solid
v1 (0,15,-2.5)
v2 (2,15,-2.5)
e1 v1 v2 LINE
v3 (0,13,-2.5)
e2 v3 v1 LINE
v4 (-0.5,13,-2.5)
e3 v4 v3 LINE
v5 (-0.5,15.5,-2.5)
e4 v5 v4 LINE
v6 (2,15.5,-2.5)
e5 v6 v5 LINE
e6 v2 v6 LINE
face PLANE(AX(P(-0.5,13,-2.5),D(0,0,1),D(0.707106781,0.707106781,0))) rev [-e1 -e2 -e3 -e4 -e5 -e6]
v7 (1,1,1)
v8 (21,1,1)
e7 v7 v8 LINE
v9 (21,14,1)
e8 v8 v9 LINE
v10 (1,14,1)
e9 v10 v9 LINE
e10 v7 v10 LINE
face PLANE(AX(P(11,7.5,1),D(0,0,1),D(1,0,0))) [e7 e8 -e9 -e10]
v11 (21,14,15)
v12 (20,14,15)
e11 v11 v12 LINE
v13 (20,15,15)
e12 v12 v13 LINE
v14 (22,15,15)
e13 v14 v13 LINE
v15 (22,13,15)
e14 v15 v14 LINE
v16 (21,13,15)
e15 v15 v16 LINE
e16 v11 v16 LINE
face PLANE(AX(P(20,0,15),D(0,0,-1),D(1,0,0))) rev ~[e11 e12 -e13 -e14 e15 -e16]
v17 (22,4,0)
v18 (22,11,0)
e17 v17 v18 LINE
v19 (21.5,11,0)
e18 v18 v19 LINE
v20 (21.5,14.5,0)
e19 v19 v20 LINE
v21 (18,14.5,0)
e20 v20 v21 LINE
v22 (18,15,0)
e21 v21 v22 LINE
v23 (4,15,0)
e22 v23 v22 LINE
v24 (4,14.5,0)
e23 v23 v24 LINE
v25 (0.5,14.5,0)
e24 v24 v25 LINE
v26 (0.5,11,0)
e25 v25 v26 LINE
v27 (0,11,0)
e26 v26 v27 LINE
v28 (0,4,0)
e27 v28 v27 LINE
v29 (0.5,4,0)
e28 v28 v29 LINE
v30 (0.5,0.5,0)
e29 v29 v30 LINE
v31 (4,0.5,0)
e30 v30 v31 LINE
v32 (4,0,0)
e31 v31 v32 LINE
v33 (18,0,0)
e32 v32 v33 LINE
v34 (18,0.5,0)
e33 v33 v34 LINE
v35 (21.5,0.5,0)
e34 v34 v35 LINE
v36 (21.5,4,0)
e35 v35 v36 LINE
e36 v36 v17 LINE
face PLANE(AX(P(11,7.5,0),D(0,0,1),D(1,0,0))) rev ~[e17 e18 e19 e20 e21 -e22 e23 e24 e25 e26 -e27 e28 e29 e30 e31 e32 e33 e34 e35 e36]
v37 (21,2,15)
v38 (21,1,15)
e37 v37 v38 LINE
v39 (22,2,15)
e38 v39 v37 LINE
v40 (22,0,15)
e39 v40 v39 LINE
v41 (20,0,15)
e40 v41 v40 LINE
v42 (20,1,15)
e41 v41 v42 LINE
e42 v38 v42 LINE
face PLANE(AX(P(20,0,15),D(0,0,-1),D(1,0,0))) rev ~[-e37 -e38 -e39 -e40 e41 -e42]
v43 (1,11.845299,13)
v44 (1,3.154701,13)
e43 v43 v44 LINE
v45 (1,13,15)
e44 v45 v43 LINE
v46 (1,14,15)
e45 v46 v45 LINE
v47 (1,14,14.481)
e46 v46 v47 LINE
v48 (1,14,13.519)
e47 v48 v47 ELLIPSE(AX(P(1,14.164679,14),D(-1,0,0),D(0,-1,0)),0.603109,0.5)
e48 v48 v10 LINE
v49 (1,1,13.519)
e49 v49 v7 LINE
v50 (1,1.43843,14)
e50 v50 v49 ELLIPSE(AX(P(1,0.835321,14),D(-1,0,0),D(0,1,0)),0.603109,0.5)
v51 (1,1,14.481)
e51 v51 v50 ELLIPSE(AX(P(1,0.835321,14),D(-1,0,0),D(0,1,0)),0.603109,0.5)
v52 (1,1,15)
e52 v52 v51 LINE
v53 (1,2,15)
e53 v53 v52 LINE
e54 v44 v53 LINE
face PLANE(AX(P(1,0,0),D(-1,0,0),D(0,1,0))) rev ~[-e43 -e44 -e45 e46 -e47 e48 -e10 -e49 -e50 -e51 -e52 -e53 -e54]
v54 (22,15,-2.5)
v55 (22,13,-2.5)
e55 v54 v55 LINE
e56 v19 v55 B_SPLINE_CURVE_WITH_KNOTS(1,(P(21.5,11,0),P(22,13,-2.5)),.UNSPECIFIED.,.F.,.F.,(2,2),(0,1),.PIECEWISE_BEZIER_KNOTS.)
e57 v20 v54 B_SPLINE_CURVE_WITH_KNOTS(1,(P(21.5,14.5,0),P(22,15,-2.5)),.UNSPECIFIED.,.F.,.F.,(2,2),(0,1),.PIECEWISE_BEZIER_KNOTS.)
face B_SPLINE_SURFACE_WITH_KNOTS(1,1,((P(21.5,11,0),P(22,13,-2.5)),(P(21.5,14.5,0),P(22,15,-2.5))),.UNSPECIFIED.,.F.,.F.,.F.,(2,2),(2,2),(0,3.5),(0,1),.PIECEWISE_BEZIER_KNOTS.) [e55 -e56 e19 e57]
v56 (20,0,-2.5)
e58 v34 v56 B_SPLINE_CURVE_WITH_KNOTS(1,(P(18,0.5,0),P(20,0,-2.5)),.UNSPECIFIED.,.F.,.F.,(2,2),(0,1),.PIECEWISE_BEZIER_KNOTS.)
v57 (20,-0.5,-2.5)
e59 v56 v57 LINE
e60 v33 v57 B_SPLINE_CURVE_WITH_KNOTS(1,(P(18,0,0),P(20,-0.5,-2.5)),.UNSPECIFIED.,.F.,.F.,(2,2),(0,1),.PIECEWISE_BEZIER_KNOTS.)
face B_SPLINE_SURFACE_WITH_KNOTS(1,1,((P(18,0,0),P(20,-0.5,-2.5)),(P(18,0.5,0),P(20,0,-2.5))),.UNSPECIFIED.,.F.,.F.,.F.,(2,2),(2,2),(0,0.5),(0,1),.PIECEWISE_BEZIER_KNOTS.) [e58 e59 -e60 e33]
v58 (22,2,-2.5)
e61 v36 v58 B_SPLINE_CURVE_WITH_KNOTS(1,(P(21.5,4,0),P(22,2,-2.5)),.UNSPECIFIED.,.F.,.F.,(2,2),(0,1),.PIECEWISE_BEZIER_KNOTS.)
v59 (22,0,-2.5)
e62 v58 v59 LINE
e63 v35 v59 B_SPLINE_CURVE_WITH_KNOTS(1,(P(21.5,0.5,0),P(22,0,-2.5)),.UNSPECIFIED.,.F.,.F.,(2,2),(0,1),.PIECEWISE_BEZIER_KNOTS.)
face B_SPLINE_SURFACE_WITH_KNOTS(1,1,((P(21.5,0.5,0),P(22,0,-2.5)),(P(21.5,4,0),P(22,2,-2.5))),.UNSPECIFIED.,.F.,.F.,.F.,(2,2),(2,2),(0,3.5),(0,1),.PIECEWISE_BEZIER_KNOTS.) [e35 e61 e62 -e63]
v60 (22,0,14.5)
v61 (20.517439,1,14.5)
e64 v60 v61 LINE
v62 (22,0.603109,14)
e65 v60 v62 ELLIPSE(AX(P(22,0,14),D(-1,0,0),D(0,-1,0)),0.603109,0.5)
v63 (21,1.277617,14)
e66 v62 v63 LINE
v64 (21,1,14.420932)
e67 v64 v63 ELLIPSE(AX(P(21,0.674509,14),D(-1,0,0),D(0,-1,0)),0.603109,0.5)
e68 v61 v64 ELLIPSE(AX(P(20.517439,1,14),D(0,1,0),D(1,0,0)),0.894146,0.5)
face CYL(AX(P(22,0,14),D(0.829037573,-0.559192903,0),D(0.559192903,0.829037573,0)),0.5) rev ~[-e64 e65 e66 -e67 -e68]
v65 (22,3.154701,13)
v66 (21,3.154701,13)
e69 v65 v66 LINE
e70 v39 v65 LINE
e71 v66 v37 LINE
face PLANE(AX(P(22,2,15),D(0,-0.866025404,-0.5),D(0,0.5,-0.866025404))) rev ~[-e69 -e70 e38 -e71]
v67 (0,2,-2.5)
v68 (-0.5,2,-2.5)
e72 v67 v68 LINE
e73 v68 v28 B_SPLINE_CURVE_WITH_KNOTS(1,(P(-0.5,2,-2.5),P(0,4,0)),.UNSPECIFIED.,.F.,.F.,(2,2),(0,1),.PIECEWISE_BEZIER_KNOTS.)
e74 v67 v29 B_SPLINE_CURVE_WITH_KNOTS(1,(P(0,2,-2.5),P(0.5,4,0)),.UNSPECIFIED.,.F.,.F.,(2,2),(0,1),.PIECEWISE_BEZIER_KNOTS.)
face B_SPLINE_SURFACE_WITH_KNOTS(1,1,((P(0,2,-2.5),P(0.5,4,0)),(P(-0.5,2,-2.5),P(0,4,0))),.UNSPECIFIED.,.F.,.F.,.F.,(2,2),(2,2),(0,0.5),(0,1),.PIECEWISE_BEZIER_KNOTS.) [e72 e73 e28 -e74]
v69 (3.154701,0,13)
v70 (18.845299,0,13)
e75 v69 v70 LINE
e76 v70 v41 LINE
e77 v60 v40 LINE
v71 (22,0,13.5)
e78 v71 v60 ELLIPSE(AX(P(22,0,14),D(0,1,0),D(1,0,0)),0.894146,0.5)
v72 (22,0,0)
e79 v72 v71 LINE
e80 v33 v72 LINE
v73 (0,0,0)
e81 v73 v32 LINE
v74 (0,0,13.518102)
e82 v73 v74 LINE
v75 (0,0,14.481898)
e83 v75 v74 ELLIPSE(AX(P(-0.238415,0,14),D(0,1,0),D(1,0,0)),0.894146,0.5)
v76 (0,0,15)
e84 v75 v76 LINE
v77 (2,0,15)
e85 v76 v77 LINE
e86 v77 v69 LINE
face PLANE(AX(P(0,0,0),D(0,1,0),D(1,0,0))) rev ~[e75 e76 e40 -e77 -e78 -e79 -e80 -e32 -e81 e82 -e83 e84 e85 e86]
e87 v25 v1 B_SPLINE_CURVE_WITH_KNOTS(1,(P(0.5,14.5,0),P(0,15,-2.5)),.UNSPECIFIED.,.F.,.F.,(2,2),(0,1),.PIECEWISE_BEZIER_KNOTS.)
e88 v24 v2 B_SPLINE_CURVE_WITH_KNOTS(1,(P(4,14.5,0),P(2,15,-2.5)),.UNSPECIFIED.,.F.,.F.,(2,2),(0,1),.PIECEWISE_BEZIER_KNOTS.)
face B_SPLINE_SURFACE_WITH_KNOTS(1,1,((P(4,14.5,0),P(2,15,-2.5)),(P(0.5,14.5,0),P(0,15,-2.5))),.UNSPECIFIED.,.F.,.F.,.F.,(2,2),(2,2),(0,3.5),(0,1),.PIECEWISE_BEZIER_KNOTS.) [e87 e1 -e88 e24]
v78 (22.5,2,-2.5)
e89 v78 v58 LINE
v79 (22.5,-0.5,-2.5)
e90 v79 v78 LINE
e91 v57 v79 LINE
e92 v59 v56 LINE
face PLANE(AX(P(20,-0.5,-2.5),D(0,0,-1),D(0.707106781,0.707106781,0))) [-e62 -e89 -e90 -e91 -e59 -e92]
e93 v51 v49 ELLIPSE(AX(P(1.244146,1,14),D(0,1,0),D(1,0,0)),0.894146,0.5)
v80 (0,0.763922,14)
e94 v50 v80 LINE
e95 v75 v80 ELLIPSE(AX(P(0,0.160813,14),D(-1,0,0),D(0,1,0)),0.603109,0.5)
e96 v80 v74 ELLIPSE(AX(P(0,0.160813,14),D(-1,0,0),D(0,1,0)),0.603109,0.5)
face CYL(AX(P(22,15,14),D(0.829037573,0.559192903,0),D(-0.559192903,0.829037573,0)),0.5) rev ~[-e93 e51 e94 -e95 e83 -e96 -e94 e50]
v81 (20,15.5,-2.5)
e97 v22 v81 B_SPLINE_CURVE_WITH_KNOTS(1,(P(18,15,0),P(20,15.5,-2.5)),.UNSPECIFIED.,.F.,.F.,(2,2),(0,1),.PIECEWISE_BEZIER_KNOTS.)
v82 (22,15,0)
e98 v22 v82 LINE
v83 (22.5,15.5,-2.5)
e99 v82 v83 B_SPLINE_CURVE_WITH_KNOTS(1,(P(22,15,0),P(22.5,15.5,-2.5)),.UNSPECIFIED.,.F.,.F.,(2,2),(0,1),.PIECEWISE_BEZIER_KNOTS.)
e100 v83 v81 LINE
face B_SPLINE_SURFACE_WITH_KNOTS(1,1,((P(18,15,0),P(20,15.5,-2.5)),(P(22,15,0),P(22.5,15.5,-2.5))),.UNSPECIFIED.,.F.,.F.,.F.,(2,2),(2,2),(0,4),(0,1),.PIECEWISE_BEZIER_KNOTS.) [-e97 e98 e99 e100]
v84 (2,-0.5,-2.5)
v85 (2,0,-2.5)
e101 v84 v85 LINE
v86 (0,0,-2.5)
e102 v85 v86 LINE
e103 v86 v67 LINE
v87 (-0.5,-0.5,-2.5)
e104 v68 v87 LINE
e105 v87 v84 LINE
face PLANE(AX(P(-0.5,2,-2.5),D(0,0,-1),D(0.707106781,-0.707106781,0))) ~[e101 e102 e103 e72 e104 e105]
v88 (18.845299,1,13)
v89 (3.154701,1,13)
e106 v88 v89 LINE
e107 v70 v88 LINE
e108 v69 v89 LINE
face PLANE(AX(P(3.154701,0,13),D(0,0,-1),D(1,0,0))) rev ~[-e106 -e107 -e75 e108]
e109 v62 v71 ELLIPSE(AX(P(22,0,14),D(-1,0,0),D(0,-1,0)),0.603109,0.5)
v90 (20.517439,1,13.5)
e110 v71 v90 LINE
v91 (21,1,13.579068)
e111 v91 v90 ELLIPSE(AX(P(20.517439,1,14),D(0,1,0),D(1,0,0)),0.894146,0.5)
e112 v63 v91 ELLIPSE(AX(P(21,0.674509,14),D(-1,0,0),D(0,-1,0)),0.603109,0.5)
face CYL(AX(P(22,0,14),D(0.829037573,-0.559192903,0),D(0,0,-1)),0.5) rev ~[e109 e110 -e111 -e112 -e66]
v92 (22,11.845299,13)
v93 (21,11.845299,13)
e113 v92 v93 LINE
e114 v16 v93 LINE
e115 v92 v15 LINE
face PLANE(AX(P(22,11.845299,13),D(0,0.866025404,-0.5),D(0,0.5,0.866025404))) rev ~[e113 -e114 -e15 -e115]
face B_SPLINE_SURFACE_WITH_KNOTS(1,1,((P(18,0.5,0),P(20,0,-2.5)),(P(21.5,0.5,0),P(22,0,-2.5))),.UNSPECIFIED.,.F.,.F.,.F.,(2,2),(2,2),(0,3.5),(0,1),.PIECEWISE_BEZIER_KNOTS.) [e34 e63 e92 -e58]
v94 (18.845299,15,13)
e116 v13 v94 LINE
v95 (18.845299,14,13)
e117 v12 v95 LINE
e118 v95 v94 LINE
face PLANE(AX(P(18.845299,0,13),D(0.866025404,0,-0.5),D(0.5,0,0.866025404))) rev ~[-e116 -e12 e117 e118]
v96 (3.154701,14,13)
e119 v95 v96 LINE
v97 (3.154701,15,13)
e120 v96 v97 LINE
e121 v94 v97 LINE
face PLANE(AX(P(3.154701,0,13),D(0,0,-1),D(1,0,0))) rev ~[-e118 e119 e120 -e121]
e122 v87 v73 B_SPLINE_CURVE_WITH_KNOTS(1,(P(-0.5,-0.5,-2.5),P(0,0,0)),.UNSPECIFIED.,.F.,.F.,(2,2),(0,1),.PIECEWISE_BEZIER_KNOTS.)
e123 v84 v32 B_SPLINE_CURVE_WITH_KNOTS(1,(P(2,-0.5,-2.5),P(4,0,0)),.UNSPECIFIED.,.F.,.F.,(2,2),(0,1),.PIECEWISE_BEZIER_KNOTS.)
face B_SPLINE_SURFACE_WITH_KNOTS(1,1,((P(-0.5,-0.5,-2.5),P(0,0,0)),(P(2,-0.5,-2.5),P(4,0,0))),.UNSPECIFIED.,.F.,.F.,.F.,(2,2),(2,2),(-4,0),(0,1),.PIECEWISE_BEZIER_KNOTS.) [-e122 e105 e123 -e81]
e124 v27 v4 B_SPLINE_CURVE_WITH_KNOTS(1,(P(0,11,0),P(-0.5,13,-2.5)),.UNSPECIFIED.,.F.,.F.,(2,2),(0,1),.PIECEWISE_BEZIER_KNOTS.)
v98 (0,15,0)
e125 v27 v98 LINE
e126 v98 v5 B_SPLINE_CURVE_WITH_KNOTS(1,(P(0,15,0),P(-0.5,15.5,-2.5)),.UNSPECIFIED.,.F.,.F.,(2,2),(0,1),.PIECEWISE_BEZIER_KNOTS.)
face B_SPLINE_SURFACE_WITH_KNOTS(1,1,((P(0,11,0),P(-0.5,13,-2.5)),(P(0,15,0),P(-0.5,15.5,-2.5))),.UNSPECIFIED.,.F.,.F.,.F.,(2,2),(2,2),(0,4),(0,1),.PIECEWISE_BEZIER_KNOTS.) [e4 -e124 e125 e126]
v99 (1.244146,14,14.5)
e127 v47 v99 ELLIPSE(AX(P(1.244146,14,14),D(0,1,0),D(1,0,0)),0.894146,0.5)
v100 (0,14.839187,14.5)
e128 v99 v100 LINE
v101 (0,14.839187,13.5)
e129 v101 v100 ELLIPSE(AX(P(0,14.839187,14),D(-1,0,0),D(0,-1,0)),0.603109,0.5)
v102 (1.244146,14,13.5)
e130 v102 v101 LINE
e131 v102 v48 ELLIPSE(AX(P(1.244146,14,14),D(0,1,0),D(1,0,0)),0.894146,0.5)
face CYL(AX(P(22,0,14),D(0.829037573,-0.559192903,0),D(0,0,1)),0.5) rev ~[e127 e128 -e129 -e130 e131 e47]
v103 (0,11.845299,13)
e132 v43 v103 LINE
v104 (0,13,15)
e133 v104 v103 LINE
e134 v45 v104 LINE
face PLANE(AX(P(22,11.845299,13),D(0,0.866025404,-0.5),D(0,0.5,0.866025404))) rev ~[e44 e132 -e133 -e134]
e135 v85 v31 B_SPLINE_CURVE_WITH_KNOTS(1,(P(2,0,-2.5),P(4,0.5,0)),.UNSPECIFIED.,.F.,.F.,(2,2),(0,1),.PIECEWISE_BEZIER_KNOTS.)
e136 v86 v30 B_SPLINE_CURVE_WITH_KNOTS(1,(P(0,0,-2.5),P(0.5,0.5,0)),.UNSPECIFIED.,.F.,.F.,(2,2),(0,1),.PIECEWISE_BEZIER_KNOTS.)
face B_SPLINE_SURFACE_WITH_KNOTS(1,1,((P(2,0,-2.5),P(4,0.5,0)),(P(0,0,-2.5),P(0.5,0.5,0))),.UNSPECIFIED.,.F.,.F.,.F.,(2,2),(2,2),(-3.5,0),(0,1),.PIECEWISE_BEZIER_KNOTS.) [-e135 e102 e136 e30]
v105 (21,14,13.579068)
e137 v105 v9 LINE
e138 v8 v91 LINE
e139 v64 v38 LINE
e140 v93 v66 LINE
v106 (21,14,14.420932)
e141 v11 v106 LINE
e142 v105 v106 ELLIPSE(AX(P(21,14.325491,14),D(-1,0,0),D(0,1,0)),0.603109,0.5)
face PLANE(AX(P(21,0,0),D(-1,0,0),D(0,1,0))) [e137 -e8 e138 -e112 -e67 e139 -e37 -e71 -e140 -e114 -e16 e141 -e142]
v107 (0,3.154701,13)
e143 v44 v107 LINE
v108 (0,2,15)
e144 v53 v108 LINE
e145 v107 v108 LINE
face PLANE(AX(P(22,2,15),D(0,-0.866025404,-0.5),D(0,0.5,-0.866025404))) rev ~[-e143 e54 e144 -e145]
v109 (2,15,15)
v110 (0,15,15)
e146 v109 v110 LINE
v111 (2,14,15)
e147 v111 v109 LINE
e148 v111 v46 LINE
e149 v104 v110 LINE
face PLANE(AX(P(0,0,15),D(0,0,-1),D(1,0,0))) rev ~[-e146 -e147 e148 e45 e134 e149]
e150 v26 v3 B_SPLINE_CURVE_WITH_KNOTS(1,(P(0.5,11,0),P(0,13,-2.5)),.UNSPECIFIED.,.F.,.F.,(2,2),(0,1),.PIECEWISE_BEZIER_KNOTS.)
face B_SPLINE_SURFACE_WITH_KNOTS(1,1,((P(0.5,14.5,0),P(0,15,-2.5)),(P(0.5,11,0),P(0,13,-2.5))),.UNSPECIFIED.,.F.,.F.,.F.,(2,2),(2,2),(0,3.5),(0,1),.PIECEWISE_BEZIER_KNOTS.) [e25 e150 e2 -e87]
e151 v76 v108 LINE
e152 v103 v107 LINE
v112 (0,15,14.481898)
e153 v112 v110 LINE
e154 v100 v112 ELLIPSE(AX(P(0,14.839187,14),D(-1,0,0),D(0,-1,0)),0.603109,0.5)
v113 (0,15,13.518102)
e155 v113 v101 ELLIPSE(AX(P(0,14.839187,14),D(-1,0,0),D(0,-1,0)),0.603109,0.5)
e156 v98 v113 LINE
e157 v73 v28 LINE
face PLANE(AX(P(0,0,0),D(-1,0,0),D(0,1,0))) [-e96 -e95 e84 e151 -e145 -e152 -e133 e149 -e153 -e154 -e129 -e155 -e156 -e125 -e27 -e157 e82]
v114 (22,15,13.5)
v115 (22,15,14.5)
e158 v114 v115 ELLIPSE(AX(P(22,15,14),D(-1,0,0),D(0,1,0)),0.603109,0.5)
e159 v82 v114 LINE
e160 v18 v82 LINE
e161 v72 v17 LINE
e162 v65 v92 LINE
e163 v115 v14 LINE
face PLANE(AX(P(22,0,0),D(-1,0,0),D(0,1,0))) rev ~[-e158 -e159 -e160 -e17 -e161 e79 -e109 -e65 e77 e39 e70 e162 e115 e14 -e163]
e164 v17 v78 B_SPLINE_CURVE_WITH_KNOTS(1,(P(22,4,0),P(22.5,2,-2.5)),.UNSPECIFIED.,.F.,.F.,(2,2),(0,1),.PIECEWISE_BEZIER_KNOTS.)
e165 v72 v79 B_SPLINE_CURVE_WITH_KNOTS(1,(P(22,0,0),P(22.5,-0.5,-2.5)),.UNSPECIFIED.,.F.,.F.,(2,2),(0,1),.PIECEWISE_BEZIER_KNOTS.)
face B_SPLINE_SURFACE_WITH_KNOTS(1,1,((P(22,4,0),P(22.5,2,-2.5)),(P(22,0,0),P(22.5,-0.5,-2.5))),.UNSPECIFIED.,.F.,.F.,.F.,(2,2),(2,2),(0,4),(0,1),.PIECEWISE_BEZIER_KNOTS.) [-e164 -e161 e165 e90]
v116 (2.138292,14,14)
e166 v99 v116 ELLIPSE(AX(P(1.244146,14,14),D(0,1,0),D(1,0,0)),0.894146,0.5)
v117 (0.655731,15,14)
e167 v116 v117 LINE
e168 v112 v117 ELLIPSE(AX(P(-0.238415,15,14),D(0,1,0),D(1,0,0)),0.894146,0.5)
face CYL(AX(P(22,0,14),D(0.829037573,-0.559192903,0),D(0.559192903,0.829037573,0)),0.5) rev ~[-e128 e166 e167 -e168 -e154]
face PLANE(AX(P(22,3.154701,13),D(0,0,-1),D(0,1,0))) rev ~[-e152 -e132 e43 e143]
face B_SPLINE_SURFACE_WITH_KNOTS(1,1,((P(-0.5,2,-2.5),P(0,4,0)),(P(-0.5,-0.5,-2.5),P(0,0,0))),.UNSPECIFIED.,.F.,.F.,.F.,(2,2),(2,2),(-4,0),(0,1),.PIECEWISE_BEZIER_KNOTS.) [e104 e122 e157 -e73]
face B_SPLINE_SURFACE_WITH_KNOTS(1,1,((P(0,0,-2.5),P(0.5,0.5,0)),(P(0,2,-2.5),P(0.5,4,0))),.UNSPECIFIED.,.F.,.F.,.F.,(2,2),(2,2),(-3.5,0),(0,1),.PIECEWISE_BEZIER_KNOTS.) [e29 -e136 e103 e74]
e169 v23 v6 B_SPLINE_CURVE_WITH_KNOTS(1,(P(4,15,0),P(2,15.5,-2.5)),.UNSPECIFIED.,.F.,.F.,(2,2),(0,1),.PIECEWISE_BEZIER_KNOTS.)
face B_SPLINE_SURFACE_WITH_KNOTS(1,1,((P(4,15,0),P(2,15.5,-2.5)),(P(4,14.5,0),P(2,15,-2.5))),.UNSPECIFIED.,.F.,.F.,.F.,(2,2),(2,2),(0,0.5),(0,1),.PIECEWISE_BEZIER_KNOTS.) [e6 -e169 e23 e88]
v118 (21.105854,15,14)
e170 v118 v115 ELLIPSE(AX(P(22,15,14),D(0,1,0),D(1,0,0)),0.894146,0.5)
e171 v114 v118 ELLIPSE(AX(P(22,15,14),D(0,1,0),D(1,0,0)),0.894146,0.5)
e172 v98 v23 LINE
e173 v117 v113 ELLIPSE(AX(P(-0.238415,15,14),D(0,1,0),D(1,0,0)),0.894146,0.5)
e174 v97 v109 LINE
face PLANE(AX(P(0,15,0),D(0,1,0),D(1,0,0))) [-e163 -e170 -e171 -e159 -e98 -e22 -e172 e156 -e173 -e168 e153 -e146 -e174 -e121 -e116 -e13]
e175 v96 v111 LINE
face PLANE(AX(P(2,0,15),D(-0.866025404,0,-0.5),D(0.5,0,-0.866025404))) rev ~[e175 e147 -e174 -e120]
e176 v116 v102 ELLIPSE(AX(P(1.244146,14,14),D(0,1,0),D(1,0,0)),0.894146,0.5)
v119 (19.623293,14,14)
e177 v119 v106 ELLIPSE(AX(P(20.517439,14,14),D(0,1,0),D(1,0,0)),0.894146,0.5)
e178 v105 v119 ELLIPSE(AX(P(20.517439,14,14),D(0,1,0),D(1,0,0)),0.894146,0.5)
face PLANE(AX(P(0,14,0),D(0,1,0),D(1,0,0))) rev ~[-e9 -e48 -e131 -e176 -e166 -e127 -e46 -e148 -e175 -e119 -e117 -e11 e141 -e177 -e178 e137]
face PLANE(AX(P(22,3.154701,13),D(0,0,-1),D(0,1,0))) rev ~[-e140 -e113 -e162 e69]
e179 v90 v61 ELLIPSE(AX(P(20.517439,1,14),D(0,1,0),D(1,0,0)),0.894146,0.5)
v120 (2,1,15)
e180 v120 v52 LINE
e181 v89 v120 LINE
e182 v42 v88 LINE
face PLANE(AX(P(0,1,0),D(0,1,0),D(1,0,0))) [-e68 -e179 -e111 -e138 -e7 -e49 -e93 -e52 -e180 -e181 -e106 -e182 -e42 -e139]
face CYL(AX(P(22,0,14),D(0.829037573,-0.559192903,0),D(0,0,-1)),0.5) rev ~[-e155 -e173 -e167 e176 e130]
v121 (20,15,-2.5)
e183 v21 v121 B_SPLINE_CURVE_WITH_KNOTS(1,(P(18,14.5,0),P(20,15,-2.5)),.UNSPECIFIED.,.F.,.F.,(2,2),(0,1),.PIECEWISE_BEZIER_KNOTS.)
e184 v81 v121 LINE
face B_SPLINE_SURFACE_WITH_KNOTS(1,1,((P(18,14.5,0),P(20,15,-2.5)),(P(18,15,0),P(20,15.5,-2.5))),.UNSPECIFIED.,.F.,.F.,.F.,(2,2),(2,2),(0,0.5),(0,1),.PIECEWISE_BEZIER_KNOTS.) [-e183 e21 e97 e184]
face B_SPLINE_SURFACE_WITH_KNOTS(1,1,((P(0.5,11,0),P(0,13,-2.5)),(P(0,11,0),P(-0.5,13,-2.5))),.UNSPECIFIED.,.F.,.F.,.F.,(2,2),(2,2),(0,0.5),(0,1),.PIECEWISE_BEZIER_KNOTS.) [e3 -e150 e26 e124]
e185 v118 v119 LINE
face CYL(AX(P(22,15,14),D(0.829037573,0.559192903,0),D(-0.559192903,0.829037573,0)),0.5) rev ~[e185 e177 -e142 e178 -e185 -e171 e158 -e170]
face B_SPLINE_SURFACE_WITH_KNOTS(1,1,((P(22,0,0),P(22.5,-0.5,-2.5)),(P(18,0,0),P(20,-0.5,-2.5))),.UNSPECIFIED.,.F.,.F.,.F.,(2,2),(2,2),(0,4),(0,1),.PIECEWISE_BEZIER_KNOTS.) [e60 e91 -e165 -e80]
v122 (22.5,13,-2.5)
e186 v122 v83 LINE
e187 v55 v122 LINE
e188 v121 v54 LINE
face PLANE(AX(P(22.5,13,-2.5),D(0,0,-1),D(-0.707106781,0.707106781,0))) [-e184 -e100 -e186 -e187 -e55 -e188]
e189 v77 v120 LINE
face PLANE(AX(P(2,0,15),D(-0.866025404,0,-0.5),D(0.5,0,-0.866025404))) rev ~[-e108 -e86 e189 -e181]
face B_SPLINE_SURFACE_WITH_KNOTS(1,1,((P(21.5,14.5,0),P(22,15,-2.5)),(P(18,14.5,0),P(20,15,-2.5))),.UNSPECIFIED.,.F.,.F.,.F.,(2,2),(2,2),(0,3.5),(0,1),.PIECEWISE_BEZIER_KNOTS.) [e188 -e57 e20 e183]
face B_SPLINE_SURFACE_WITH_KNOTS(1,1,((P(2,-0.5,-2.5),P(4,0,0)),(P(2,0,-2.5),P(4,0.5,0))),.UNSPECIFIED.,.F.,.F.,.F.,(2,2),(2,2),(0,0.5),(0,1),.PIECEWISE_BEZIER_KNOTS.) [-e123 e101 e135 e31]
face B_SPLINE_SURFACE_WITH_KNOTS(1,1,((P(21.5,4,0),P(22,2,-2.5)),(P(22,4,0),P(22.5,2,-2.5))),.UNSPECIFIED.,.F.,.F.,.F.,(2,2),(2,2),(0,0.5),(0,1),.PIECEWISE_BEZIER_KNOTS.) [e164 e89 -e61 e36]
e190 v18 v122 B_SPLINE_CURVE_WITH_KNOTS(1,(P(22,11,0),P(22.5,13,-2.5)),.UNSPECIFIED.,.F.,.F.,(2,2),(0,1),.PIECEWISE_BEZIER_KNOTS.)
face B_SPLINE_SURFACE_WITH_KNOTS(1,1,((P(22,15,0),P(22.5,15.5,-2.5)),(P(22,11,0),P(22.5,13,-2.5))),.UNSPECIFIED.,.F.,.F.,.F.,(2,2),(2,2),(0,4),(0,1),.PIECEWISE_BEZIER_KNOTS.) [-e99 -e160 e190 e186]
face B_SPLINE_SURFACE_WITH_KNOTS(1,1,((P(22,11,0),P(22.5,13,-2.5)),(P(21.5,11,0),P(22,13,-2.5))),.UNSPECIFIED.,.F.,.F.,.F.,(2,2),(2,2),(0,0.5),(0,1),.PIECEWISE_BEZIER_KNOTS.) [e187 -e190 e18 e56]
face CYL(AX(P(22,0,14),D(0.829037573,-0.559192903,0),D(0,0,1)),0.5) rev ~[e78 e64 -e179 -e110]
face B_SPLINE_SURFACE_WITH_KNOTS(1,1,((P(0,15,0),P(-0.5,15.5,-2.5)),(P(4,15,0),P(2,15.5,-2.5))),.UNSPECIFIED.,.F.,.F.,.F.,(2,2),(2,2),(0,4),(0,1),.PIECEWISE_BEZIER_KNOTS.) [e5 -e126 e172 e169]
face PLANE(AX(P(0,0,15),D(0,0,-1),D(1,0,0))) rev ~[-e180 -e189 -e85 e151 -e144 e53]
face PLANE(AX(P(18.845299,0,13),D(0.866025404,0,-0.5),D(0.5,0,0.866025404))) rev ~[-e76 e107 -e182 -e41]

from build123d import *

# Parameters (mm, degrees)
F0_W      = 22
F0_H      = 15
F1_DEPTH  = 18
F2_T      = -1
F11_DEPTH = 25
F13_DEPTH = 25
F16_R     = 0.5
F17_DEPTH = 50
F20_DEPTH = 50


with BuildPart() as f1:
    # F0 (on Top) → F1 (new body)
    with BuildSketch(Plane.XY):
        with Locations((11, 7.5)):
            Rectangle(F0_W, F0_H)
    extrude(amount=F1_DEPTH)

    # F2
    f2_openings = [f1.faces().sort_by_distance(p)[0] for p in [
        (11, 7.5, 18),
    ]]
    offset(amount=F2_T, openings=f2_openings)

    # F5 (on offset) → F6 section 0
    with BuildSketch(Plane.XY.offset(-2.5)):
        Polygon((-0.5, 2), (-0.5, -0.5), (2, -0.5), (2, 0), (0, 0), (0, 2), align=None)
    # F3 (on face) → F6 section 1
    with BuildSketch(Plane(origin=(0, 0, 0), x_dir=(1, 0, 0), z_dir=(0, 0, -1))):
        Polygon((4, 0), (0, 0), (0, -4), (0.5, -4), (0.5, -0.5), (4, -0.5), align=None)
    loft()

    # F3 (on face) → F7 section 0
    with BuildSketch(Plane(origin=(0, 0, 0), x_dir=(1, 0, 0), z_dir=(0, 0, -1))):
        Polygon((0.5, -11), (0, -11), (0, -15), (4, -15), (4, -14.5), (0.5, -14.5), align=None)
    # F5 (on offset) → F7 section 1
    with BuildSketch(Plane.XY.offset(-2.5)):
        Polygon((-0.5, 13), (0, 13), (0, 15), (2, 15), (2, 15.5), (-0.5, 15.5), align=None)
    loft()

    # F3 (on face) → F8 section 0
    with BuildSketch(Plane(origin=(0, 0, 0), x_dir=(1, 0, 0), z_dir=(0, 0, -1))):
        Polygon((22, -15), (22, -11), (21.5, -11), (21.5, -14.5), (18, -14.5), (18, -15), align=None)
    # F5 (on offset) → F8 section 1
    with BuildSketch(Plane.XY.offset(-2.5)):
        Polygon((20, 15.5), (20, 15), (22, 15), (22, 13), (22.5, 13), (22.5, 15.5), align=None)
    loft()

    # F3 (on face) → F9 section 0
    with BuildSketch(Plane(origin=(0, 0, 0), x_dir=(1, 0, 0), z_dir=(0, 0, -1))):
        Polygon((22, 0), (18, 0), (18, -0.5), (21.5, -0.5), (21.5, -4), (22, -4), align=None)
    # F5 (on offset) → F9 section 1
    with BuildSketch(Plane.XY.offset(-2.5)):
        Polygon((22, 2), (22, 0), (20, 0), (20, -0.5), (22.5, -0.5), (22.5, 2), align=None)
    loft()

    # F10 (on face) → F11 (cut)
    with BuildSketch(Plane.XZ):
        Polygon((20, 15), (22, 15), (22, 18), (0, 18), (0, 15), (2, 15), (3.1547005384, 13), (18.8452994616, 13), align=None)
    extrude(amount=-F11_DEPTH, mode=Mode.SUBTRACT)

    # F12 (on face) → F13 (cut)
    with BuildSketch(Plane.YZ.offset(22)):
        Polygon((13, 15), (2, 15), (3.1547005384, 13), (11.8452994616, 13), align=None)
    extrude(amount=-F13_DEPTH, mode=Mode.SUBTRACT)

    # F16 (on face) → F17 (cut)
    with BuildSketch(Plane(origin=(22.0745514368, 14.8894729496, 0), x_dir=(-0.5591929035, 0.8290375726, 0), z_dir=(0.8290375726, 0.5591929035, 0))):
        with Locations((0.133319712, 14)):
            Circle(F16_R)
    extrude(amount=-F17_DEPTH, mode=Mode.SUBTRACT)

    # F19 (on face) → F20 (cut)
    with BuildSketch(Plane(origin=(15.1206725276, -10.1990224002, 0), x_dir=(0.5591929035, 0.8290375726, 0), z_dir=(0.8290375726, -0.5591929035, 0))):
        with BuildLine():
            ThreePointArc((12.8022438764, 14), (12.6557972669, 14.3535533906), (12.3022438764, 14.5))
            Line((12.3022438764, 14.5), (12.3022438764, 13.5))
            ThreePointArc((12.3022438764, 13.5), (12.6557972669, 13.6464466094), (12.8022438764, 14))
        make_face()
        with BuildLine():
            Line((12.3022438764, 13.5), (12.3022438764, 14.5))
            ThreePointArc((12.3022438764, 14.5), (11.8022438764, 14), (12.3022438764, 13.5))
        make_face()
    extrude(amount=-F20_DEPTH, mode=Mode.SUBTRACT)


solid = f1.part
